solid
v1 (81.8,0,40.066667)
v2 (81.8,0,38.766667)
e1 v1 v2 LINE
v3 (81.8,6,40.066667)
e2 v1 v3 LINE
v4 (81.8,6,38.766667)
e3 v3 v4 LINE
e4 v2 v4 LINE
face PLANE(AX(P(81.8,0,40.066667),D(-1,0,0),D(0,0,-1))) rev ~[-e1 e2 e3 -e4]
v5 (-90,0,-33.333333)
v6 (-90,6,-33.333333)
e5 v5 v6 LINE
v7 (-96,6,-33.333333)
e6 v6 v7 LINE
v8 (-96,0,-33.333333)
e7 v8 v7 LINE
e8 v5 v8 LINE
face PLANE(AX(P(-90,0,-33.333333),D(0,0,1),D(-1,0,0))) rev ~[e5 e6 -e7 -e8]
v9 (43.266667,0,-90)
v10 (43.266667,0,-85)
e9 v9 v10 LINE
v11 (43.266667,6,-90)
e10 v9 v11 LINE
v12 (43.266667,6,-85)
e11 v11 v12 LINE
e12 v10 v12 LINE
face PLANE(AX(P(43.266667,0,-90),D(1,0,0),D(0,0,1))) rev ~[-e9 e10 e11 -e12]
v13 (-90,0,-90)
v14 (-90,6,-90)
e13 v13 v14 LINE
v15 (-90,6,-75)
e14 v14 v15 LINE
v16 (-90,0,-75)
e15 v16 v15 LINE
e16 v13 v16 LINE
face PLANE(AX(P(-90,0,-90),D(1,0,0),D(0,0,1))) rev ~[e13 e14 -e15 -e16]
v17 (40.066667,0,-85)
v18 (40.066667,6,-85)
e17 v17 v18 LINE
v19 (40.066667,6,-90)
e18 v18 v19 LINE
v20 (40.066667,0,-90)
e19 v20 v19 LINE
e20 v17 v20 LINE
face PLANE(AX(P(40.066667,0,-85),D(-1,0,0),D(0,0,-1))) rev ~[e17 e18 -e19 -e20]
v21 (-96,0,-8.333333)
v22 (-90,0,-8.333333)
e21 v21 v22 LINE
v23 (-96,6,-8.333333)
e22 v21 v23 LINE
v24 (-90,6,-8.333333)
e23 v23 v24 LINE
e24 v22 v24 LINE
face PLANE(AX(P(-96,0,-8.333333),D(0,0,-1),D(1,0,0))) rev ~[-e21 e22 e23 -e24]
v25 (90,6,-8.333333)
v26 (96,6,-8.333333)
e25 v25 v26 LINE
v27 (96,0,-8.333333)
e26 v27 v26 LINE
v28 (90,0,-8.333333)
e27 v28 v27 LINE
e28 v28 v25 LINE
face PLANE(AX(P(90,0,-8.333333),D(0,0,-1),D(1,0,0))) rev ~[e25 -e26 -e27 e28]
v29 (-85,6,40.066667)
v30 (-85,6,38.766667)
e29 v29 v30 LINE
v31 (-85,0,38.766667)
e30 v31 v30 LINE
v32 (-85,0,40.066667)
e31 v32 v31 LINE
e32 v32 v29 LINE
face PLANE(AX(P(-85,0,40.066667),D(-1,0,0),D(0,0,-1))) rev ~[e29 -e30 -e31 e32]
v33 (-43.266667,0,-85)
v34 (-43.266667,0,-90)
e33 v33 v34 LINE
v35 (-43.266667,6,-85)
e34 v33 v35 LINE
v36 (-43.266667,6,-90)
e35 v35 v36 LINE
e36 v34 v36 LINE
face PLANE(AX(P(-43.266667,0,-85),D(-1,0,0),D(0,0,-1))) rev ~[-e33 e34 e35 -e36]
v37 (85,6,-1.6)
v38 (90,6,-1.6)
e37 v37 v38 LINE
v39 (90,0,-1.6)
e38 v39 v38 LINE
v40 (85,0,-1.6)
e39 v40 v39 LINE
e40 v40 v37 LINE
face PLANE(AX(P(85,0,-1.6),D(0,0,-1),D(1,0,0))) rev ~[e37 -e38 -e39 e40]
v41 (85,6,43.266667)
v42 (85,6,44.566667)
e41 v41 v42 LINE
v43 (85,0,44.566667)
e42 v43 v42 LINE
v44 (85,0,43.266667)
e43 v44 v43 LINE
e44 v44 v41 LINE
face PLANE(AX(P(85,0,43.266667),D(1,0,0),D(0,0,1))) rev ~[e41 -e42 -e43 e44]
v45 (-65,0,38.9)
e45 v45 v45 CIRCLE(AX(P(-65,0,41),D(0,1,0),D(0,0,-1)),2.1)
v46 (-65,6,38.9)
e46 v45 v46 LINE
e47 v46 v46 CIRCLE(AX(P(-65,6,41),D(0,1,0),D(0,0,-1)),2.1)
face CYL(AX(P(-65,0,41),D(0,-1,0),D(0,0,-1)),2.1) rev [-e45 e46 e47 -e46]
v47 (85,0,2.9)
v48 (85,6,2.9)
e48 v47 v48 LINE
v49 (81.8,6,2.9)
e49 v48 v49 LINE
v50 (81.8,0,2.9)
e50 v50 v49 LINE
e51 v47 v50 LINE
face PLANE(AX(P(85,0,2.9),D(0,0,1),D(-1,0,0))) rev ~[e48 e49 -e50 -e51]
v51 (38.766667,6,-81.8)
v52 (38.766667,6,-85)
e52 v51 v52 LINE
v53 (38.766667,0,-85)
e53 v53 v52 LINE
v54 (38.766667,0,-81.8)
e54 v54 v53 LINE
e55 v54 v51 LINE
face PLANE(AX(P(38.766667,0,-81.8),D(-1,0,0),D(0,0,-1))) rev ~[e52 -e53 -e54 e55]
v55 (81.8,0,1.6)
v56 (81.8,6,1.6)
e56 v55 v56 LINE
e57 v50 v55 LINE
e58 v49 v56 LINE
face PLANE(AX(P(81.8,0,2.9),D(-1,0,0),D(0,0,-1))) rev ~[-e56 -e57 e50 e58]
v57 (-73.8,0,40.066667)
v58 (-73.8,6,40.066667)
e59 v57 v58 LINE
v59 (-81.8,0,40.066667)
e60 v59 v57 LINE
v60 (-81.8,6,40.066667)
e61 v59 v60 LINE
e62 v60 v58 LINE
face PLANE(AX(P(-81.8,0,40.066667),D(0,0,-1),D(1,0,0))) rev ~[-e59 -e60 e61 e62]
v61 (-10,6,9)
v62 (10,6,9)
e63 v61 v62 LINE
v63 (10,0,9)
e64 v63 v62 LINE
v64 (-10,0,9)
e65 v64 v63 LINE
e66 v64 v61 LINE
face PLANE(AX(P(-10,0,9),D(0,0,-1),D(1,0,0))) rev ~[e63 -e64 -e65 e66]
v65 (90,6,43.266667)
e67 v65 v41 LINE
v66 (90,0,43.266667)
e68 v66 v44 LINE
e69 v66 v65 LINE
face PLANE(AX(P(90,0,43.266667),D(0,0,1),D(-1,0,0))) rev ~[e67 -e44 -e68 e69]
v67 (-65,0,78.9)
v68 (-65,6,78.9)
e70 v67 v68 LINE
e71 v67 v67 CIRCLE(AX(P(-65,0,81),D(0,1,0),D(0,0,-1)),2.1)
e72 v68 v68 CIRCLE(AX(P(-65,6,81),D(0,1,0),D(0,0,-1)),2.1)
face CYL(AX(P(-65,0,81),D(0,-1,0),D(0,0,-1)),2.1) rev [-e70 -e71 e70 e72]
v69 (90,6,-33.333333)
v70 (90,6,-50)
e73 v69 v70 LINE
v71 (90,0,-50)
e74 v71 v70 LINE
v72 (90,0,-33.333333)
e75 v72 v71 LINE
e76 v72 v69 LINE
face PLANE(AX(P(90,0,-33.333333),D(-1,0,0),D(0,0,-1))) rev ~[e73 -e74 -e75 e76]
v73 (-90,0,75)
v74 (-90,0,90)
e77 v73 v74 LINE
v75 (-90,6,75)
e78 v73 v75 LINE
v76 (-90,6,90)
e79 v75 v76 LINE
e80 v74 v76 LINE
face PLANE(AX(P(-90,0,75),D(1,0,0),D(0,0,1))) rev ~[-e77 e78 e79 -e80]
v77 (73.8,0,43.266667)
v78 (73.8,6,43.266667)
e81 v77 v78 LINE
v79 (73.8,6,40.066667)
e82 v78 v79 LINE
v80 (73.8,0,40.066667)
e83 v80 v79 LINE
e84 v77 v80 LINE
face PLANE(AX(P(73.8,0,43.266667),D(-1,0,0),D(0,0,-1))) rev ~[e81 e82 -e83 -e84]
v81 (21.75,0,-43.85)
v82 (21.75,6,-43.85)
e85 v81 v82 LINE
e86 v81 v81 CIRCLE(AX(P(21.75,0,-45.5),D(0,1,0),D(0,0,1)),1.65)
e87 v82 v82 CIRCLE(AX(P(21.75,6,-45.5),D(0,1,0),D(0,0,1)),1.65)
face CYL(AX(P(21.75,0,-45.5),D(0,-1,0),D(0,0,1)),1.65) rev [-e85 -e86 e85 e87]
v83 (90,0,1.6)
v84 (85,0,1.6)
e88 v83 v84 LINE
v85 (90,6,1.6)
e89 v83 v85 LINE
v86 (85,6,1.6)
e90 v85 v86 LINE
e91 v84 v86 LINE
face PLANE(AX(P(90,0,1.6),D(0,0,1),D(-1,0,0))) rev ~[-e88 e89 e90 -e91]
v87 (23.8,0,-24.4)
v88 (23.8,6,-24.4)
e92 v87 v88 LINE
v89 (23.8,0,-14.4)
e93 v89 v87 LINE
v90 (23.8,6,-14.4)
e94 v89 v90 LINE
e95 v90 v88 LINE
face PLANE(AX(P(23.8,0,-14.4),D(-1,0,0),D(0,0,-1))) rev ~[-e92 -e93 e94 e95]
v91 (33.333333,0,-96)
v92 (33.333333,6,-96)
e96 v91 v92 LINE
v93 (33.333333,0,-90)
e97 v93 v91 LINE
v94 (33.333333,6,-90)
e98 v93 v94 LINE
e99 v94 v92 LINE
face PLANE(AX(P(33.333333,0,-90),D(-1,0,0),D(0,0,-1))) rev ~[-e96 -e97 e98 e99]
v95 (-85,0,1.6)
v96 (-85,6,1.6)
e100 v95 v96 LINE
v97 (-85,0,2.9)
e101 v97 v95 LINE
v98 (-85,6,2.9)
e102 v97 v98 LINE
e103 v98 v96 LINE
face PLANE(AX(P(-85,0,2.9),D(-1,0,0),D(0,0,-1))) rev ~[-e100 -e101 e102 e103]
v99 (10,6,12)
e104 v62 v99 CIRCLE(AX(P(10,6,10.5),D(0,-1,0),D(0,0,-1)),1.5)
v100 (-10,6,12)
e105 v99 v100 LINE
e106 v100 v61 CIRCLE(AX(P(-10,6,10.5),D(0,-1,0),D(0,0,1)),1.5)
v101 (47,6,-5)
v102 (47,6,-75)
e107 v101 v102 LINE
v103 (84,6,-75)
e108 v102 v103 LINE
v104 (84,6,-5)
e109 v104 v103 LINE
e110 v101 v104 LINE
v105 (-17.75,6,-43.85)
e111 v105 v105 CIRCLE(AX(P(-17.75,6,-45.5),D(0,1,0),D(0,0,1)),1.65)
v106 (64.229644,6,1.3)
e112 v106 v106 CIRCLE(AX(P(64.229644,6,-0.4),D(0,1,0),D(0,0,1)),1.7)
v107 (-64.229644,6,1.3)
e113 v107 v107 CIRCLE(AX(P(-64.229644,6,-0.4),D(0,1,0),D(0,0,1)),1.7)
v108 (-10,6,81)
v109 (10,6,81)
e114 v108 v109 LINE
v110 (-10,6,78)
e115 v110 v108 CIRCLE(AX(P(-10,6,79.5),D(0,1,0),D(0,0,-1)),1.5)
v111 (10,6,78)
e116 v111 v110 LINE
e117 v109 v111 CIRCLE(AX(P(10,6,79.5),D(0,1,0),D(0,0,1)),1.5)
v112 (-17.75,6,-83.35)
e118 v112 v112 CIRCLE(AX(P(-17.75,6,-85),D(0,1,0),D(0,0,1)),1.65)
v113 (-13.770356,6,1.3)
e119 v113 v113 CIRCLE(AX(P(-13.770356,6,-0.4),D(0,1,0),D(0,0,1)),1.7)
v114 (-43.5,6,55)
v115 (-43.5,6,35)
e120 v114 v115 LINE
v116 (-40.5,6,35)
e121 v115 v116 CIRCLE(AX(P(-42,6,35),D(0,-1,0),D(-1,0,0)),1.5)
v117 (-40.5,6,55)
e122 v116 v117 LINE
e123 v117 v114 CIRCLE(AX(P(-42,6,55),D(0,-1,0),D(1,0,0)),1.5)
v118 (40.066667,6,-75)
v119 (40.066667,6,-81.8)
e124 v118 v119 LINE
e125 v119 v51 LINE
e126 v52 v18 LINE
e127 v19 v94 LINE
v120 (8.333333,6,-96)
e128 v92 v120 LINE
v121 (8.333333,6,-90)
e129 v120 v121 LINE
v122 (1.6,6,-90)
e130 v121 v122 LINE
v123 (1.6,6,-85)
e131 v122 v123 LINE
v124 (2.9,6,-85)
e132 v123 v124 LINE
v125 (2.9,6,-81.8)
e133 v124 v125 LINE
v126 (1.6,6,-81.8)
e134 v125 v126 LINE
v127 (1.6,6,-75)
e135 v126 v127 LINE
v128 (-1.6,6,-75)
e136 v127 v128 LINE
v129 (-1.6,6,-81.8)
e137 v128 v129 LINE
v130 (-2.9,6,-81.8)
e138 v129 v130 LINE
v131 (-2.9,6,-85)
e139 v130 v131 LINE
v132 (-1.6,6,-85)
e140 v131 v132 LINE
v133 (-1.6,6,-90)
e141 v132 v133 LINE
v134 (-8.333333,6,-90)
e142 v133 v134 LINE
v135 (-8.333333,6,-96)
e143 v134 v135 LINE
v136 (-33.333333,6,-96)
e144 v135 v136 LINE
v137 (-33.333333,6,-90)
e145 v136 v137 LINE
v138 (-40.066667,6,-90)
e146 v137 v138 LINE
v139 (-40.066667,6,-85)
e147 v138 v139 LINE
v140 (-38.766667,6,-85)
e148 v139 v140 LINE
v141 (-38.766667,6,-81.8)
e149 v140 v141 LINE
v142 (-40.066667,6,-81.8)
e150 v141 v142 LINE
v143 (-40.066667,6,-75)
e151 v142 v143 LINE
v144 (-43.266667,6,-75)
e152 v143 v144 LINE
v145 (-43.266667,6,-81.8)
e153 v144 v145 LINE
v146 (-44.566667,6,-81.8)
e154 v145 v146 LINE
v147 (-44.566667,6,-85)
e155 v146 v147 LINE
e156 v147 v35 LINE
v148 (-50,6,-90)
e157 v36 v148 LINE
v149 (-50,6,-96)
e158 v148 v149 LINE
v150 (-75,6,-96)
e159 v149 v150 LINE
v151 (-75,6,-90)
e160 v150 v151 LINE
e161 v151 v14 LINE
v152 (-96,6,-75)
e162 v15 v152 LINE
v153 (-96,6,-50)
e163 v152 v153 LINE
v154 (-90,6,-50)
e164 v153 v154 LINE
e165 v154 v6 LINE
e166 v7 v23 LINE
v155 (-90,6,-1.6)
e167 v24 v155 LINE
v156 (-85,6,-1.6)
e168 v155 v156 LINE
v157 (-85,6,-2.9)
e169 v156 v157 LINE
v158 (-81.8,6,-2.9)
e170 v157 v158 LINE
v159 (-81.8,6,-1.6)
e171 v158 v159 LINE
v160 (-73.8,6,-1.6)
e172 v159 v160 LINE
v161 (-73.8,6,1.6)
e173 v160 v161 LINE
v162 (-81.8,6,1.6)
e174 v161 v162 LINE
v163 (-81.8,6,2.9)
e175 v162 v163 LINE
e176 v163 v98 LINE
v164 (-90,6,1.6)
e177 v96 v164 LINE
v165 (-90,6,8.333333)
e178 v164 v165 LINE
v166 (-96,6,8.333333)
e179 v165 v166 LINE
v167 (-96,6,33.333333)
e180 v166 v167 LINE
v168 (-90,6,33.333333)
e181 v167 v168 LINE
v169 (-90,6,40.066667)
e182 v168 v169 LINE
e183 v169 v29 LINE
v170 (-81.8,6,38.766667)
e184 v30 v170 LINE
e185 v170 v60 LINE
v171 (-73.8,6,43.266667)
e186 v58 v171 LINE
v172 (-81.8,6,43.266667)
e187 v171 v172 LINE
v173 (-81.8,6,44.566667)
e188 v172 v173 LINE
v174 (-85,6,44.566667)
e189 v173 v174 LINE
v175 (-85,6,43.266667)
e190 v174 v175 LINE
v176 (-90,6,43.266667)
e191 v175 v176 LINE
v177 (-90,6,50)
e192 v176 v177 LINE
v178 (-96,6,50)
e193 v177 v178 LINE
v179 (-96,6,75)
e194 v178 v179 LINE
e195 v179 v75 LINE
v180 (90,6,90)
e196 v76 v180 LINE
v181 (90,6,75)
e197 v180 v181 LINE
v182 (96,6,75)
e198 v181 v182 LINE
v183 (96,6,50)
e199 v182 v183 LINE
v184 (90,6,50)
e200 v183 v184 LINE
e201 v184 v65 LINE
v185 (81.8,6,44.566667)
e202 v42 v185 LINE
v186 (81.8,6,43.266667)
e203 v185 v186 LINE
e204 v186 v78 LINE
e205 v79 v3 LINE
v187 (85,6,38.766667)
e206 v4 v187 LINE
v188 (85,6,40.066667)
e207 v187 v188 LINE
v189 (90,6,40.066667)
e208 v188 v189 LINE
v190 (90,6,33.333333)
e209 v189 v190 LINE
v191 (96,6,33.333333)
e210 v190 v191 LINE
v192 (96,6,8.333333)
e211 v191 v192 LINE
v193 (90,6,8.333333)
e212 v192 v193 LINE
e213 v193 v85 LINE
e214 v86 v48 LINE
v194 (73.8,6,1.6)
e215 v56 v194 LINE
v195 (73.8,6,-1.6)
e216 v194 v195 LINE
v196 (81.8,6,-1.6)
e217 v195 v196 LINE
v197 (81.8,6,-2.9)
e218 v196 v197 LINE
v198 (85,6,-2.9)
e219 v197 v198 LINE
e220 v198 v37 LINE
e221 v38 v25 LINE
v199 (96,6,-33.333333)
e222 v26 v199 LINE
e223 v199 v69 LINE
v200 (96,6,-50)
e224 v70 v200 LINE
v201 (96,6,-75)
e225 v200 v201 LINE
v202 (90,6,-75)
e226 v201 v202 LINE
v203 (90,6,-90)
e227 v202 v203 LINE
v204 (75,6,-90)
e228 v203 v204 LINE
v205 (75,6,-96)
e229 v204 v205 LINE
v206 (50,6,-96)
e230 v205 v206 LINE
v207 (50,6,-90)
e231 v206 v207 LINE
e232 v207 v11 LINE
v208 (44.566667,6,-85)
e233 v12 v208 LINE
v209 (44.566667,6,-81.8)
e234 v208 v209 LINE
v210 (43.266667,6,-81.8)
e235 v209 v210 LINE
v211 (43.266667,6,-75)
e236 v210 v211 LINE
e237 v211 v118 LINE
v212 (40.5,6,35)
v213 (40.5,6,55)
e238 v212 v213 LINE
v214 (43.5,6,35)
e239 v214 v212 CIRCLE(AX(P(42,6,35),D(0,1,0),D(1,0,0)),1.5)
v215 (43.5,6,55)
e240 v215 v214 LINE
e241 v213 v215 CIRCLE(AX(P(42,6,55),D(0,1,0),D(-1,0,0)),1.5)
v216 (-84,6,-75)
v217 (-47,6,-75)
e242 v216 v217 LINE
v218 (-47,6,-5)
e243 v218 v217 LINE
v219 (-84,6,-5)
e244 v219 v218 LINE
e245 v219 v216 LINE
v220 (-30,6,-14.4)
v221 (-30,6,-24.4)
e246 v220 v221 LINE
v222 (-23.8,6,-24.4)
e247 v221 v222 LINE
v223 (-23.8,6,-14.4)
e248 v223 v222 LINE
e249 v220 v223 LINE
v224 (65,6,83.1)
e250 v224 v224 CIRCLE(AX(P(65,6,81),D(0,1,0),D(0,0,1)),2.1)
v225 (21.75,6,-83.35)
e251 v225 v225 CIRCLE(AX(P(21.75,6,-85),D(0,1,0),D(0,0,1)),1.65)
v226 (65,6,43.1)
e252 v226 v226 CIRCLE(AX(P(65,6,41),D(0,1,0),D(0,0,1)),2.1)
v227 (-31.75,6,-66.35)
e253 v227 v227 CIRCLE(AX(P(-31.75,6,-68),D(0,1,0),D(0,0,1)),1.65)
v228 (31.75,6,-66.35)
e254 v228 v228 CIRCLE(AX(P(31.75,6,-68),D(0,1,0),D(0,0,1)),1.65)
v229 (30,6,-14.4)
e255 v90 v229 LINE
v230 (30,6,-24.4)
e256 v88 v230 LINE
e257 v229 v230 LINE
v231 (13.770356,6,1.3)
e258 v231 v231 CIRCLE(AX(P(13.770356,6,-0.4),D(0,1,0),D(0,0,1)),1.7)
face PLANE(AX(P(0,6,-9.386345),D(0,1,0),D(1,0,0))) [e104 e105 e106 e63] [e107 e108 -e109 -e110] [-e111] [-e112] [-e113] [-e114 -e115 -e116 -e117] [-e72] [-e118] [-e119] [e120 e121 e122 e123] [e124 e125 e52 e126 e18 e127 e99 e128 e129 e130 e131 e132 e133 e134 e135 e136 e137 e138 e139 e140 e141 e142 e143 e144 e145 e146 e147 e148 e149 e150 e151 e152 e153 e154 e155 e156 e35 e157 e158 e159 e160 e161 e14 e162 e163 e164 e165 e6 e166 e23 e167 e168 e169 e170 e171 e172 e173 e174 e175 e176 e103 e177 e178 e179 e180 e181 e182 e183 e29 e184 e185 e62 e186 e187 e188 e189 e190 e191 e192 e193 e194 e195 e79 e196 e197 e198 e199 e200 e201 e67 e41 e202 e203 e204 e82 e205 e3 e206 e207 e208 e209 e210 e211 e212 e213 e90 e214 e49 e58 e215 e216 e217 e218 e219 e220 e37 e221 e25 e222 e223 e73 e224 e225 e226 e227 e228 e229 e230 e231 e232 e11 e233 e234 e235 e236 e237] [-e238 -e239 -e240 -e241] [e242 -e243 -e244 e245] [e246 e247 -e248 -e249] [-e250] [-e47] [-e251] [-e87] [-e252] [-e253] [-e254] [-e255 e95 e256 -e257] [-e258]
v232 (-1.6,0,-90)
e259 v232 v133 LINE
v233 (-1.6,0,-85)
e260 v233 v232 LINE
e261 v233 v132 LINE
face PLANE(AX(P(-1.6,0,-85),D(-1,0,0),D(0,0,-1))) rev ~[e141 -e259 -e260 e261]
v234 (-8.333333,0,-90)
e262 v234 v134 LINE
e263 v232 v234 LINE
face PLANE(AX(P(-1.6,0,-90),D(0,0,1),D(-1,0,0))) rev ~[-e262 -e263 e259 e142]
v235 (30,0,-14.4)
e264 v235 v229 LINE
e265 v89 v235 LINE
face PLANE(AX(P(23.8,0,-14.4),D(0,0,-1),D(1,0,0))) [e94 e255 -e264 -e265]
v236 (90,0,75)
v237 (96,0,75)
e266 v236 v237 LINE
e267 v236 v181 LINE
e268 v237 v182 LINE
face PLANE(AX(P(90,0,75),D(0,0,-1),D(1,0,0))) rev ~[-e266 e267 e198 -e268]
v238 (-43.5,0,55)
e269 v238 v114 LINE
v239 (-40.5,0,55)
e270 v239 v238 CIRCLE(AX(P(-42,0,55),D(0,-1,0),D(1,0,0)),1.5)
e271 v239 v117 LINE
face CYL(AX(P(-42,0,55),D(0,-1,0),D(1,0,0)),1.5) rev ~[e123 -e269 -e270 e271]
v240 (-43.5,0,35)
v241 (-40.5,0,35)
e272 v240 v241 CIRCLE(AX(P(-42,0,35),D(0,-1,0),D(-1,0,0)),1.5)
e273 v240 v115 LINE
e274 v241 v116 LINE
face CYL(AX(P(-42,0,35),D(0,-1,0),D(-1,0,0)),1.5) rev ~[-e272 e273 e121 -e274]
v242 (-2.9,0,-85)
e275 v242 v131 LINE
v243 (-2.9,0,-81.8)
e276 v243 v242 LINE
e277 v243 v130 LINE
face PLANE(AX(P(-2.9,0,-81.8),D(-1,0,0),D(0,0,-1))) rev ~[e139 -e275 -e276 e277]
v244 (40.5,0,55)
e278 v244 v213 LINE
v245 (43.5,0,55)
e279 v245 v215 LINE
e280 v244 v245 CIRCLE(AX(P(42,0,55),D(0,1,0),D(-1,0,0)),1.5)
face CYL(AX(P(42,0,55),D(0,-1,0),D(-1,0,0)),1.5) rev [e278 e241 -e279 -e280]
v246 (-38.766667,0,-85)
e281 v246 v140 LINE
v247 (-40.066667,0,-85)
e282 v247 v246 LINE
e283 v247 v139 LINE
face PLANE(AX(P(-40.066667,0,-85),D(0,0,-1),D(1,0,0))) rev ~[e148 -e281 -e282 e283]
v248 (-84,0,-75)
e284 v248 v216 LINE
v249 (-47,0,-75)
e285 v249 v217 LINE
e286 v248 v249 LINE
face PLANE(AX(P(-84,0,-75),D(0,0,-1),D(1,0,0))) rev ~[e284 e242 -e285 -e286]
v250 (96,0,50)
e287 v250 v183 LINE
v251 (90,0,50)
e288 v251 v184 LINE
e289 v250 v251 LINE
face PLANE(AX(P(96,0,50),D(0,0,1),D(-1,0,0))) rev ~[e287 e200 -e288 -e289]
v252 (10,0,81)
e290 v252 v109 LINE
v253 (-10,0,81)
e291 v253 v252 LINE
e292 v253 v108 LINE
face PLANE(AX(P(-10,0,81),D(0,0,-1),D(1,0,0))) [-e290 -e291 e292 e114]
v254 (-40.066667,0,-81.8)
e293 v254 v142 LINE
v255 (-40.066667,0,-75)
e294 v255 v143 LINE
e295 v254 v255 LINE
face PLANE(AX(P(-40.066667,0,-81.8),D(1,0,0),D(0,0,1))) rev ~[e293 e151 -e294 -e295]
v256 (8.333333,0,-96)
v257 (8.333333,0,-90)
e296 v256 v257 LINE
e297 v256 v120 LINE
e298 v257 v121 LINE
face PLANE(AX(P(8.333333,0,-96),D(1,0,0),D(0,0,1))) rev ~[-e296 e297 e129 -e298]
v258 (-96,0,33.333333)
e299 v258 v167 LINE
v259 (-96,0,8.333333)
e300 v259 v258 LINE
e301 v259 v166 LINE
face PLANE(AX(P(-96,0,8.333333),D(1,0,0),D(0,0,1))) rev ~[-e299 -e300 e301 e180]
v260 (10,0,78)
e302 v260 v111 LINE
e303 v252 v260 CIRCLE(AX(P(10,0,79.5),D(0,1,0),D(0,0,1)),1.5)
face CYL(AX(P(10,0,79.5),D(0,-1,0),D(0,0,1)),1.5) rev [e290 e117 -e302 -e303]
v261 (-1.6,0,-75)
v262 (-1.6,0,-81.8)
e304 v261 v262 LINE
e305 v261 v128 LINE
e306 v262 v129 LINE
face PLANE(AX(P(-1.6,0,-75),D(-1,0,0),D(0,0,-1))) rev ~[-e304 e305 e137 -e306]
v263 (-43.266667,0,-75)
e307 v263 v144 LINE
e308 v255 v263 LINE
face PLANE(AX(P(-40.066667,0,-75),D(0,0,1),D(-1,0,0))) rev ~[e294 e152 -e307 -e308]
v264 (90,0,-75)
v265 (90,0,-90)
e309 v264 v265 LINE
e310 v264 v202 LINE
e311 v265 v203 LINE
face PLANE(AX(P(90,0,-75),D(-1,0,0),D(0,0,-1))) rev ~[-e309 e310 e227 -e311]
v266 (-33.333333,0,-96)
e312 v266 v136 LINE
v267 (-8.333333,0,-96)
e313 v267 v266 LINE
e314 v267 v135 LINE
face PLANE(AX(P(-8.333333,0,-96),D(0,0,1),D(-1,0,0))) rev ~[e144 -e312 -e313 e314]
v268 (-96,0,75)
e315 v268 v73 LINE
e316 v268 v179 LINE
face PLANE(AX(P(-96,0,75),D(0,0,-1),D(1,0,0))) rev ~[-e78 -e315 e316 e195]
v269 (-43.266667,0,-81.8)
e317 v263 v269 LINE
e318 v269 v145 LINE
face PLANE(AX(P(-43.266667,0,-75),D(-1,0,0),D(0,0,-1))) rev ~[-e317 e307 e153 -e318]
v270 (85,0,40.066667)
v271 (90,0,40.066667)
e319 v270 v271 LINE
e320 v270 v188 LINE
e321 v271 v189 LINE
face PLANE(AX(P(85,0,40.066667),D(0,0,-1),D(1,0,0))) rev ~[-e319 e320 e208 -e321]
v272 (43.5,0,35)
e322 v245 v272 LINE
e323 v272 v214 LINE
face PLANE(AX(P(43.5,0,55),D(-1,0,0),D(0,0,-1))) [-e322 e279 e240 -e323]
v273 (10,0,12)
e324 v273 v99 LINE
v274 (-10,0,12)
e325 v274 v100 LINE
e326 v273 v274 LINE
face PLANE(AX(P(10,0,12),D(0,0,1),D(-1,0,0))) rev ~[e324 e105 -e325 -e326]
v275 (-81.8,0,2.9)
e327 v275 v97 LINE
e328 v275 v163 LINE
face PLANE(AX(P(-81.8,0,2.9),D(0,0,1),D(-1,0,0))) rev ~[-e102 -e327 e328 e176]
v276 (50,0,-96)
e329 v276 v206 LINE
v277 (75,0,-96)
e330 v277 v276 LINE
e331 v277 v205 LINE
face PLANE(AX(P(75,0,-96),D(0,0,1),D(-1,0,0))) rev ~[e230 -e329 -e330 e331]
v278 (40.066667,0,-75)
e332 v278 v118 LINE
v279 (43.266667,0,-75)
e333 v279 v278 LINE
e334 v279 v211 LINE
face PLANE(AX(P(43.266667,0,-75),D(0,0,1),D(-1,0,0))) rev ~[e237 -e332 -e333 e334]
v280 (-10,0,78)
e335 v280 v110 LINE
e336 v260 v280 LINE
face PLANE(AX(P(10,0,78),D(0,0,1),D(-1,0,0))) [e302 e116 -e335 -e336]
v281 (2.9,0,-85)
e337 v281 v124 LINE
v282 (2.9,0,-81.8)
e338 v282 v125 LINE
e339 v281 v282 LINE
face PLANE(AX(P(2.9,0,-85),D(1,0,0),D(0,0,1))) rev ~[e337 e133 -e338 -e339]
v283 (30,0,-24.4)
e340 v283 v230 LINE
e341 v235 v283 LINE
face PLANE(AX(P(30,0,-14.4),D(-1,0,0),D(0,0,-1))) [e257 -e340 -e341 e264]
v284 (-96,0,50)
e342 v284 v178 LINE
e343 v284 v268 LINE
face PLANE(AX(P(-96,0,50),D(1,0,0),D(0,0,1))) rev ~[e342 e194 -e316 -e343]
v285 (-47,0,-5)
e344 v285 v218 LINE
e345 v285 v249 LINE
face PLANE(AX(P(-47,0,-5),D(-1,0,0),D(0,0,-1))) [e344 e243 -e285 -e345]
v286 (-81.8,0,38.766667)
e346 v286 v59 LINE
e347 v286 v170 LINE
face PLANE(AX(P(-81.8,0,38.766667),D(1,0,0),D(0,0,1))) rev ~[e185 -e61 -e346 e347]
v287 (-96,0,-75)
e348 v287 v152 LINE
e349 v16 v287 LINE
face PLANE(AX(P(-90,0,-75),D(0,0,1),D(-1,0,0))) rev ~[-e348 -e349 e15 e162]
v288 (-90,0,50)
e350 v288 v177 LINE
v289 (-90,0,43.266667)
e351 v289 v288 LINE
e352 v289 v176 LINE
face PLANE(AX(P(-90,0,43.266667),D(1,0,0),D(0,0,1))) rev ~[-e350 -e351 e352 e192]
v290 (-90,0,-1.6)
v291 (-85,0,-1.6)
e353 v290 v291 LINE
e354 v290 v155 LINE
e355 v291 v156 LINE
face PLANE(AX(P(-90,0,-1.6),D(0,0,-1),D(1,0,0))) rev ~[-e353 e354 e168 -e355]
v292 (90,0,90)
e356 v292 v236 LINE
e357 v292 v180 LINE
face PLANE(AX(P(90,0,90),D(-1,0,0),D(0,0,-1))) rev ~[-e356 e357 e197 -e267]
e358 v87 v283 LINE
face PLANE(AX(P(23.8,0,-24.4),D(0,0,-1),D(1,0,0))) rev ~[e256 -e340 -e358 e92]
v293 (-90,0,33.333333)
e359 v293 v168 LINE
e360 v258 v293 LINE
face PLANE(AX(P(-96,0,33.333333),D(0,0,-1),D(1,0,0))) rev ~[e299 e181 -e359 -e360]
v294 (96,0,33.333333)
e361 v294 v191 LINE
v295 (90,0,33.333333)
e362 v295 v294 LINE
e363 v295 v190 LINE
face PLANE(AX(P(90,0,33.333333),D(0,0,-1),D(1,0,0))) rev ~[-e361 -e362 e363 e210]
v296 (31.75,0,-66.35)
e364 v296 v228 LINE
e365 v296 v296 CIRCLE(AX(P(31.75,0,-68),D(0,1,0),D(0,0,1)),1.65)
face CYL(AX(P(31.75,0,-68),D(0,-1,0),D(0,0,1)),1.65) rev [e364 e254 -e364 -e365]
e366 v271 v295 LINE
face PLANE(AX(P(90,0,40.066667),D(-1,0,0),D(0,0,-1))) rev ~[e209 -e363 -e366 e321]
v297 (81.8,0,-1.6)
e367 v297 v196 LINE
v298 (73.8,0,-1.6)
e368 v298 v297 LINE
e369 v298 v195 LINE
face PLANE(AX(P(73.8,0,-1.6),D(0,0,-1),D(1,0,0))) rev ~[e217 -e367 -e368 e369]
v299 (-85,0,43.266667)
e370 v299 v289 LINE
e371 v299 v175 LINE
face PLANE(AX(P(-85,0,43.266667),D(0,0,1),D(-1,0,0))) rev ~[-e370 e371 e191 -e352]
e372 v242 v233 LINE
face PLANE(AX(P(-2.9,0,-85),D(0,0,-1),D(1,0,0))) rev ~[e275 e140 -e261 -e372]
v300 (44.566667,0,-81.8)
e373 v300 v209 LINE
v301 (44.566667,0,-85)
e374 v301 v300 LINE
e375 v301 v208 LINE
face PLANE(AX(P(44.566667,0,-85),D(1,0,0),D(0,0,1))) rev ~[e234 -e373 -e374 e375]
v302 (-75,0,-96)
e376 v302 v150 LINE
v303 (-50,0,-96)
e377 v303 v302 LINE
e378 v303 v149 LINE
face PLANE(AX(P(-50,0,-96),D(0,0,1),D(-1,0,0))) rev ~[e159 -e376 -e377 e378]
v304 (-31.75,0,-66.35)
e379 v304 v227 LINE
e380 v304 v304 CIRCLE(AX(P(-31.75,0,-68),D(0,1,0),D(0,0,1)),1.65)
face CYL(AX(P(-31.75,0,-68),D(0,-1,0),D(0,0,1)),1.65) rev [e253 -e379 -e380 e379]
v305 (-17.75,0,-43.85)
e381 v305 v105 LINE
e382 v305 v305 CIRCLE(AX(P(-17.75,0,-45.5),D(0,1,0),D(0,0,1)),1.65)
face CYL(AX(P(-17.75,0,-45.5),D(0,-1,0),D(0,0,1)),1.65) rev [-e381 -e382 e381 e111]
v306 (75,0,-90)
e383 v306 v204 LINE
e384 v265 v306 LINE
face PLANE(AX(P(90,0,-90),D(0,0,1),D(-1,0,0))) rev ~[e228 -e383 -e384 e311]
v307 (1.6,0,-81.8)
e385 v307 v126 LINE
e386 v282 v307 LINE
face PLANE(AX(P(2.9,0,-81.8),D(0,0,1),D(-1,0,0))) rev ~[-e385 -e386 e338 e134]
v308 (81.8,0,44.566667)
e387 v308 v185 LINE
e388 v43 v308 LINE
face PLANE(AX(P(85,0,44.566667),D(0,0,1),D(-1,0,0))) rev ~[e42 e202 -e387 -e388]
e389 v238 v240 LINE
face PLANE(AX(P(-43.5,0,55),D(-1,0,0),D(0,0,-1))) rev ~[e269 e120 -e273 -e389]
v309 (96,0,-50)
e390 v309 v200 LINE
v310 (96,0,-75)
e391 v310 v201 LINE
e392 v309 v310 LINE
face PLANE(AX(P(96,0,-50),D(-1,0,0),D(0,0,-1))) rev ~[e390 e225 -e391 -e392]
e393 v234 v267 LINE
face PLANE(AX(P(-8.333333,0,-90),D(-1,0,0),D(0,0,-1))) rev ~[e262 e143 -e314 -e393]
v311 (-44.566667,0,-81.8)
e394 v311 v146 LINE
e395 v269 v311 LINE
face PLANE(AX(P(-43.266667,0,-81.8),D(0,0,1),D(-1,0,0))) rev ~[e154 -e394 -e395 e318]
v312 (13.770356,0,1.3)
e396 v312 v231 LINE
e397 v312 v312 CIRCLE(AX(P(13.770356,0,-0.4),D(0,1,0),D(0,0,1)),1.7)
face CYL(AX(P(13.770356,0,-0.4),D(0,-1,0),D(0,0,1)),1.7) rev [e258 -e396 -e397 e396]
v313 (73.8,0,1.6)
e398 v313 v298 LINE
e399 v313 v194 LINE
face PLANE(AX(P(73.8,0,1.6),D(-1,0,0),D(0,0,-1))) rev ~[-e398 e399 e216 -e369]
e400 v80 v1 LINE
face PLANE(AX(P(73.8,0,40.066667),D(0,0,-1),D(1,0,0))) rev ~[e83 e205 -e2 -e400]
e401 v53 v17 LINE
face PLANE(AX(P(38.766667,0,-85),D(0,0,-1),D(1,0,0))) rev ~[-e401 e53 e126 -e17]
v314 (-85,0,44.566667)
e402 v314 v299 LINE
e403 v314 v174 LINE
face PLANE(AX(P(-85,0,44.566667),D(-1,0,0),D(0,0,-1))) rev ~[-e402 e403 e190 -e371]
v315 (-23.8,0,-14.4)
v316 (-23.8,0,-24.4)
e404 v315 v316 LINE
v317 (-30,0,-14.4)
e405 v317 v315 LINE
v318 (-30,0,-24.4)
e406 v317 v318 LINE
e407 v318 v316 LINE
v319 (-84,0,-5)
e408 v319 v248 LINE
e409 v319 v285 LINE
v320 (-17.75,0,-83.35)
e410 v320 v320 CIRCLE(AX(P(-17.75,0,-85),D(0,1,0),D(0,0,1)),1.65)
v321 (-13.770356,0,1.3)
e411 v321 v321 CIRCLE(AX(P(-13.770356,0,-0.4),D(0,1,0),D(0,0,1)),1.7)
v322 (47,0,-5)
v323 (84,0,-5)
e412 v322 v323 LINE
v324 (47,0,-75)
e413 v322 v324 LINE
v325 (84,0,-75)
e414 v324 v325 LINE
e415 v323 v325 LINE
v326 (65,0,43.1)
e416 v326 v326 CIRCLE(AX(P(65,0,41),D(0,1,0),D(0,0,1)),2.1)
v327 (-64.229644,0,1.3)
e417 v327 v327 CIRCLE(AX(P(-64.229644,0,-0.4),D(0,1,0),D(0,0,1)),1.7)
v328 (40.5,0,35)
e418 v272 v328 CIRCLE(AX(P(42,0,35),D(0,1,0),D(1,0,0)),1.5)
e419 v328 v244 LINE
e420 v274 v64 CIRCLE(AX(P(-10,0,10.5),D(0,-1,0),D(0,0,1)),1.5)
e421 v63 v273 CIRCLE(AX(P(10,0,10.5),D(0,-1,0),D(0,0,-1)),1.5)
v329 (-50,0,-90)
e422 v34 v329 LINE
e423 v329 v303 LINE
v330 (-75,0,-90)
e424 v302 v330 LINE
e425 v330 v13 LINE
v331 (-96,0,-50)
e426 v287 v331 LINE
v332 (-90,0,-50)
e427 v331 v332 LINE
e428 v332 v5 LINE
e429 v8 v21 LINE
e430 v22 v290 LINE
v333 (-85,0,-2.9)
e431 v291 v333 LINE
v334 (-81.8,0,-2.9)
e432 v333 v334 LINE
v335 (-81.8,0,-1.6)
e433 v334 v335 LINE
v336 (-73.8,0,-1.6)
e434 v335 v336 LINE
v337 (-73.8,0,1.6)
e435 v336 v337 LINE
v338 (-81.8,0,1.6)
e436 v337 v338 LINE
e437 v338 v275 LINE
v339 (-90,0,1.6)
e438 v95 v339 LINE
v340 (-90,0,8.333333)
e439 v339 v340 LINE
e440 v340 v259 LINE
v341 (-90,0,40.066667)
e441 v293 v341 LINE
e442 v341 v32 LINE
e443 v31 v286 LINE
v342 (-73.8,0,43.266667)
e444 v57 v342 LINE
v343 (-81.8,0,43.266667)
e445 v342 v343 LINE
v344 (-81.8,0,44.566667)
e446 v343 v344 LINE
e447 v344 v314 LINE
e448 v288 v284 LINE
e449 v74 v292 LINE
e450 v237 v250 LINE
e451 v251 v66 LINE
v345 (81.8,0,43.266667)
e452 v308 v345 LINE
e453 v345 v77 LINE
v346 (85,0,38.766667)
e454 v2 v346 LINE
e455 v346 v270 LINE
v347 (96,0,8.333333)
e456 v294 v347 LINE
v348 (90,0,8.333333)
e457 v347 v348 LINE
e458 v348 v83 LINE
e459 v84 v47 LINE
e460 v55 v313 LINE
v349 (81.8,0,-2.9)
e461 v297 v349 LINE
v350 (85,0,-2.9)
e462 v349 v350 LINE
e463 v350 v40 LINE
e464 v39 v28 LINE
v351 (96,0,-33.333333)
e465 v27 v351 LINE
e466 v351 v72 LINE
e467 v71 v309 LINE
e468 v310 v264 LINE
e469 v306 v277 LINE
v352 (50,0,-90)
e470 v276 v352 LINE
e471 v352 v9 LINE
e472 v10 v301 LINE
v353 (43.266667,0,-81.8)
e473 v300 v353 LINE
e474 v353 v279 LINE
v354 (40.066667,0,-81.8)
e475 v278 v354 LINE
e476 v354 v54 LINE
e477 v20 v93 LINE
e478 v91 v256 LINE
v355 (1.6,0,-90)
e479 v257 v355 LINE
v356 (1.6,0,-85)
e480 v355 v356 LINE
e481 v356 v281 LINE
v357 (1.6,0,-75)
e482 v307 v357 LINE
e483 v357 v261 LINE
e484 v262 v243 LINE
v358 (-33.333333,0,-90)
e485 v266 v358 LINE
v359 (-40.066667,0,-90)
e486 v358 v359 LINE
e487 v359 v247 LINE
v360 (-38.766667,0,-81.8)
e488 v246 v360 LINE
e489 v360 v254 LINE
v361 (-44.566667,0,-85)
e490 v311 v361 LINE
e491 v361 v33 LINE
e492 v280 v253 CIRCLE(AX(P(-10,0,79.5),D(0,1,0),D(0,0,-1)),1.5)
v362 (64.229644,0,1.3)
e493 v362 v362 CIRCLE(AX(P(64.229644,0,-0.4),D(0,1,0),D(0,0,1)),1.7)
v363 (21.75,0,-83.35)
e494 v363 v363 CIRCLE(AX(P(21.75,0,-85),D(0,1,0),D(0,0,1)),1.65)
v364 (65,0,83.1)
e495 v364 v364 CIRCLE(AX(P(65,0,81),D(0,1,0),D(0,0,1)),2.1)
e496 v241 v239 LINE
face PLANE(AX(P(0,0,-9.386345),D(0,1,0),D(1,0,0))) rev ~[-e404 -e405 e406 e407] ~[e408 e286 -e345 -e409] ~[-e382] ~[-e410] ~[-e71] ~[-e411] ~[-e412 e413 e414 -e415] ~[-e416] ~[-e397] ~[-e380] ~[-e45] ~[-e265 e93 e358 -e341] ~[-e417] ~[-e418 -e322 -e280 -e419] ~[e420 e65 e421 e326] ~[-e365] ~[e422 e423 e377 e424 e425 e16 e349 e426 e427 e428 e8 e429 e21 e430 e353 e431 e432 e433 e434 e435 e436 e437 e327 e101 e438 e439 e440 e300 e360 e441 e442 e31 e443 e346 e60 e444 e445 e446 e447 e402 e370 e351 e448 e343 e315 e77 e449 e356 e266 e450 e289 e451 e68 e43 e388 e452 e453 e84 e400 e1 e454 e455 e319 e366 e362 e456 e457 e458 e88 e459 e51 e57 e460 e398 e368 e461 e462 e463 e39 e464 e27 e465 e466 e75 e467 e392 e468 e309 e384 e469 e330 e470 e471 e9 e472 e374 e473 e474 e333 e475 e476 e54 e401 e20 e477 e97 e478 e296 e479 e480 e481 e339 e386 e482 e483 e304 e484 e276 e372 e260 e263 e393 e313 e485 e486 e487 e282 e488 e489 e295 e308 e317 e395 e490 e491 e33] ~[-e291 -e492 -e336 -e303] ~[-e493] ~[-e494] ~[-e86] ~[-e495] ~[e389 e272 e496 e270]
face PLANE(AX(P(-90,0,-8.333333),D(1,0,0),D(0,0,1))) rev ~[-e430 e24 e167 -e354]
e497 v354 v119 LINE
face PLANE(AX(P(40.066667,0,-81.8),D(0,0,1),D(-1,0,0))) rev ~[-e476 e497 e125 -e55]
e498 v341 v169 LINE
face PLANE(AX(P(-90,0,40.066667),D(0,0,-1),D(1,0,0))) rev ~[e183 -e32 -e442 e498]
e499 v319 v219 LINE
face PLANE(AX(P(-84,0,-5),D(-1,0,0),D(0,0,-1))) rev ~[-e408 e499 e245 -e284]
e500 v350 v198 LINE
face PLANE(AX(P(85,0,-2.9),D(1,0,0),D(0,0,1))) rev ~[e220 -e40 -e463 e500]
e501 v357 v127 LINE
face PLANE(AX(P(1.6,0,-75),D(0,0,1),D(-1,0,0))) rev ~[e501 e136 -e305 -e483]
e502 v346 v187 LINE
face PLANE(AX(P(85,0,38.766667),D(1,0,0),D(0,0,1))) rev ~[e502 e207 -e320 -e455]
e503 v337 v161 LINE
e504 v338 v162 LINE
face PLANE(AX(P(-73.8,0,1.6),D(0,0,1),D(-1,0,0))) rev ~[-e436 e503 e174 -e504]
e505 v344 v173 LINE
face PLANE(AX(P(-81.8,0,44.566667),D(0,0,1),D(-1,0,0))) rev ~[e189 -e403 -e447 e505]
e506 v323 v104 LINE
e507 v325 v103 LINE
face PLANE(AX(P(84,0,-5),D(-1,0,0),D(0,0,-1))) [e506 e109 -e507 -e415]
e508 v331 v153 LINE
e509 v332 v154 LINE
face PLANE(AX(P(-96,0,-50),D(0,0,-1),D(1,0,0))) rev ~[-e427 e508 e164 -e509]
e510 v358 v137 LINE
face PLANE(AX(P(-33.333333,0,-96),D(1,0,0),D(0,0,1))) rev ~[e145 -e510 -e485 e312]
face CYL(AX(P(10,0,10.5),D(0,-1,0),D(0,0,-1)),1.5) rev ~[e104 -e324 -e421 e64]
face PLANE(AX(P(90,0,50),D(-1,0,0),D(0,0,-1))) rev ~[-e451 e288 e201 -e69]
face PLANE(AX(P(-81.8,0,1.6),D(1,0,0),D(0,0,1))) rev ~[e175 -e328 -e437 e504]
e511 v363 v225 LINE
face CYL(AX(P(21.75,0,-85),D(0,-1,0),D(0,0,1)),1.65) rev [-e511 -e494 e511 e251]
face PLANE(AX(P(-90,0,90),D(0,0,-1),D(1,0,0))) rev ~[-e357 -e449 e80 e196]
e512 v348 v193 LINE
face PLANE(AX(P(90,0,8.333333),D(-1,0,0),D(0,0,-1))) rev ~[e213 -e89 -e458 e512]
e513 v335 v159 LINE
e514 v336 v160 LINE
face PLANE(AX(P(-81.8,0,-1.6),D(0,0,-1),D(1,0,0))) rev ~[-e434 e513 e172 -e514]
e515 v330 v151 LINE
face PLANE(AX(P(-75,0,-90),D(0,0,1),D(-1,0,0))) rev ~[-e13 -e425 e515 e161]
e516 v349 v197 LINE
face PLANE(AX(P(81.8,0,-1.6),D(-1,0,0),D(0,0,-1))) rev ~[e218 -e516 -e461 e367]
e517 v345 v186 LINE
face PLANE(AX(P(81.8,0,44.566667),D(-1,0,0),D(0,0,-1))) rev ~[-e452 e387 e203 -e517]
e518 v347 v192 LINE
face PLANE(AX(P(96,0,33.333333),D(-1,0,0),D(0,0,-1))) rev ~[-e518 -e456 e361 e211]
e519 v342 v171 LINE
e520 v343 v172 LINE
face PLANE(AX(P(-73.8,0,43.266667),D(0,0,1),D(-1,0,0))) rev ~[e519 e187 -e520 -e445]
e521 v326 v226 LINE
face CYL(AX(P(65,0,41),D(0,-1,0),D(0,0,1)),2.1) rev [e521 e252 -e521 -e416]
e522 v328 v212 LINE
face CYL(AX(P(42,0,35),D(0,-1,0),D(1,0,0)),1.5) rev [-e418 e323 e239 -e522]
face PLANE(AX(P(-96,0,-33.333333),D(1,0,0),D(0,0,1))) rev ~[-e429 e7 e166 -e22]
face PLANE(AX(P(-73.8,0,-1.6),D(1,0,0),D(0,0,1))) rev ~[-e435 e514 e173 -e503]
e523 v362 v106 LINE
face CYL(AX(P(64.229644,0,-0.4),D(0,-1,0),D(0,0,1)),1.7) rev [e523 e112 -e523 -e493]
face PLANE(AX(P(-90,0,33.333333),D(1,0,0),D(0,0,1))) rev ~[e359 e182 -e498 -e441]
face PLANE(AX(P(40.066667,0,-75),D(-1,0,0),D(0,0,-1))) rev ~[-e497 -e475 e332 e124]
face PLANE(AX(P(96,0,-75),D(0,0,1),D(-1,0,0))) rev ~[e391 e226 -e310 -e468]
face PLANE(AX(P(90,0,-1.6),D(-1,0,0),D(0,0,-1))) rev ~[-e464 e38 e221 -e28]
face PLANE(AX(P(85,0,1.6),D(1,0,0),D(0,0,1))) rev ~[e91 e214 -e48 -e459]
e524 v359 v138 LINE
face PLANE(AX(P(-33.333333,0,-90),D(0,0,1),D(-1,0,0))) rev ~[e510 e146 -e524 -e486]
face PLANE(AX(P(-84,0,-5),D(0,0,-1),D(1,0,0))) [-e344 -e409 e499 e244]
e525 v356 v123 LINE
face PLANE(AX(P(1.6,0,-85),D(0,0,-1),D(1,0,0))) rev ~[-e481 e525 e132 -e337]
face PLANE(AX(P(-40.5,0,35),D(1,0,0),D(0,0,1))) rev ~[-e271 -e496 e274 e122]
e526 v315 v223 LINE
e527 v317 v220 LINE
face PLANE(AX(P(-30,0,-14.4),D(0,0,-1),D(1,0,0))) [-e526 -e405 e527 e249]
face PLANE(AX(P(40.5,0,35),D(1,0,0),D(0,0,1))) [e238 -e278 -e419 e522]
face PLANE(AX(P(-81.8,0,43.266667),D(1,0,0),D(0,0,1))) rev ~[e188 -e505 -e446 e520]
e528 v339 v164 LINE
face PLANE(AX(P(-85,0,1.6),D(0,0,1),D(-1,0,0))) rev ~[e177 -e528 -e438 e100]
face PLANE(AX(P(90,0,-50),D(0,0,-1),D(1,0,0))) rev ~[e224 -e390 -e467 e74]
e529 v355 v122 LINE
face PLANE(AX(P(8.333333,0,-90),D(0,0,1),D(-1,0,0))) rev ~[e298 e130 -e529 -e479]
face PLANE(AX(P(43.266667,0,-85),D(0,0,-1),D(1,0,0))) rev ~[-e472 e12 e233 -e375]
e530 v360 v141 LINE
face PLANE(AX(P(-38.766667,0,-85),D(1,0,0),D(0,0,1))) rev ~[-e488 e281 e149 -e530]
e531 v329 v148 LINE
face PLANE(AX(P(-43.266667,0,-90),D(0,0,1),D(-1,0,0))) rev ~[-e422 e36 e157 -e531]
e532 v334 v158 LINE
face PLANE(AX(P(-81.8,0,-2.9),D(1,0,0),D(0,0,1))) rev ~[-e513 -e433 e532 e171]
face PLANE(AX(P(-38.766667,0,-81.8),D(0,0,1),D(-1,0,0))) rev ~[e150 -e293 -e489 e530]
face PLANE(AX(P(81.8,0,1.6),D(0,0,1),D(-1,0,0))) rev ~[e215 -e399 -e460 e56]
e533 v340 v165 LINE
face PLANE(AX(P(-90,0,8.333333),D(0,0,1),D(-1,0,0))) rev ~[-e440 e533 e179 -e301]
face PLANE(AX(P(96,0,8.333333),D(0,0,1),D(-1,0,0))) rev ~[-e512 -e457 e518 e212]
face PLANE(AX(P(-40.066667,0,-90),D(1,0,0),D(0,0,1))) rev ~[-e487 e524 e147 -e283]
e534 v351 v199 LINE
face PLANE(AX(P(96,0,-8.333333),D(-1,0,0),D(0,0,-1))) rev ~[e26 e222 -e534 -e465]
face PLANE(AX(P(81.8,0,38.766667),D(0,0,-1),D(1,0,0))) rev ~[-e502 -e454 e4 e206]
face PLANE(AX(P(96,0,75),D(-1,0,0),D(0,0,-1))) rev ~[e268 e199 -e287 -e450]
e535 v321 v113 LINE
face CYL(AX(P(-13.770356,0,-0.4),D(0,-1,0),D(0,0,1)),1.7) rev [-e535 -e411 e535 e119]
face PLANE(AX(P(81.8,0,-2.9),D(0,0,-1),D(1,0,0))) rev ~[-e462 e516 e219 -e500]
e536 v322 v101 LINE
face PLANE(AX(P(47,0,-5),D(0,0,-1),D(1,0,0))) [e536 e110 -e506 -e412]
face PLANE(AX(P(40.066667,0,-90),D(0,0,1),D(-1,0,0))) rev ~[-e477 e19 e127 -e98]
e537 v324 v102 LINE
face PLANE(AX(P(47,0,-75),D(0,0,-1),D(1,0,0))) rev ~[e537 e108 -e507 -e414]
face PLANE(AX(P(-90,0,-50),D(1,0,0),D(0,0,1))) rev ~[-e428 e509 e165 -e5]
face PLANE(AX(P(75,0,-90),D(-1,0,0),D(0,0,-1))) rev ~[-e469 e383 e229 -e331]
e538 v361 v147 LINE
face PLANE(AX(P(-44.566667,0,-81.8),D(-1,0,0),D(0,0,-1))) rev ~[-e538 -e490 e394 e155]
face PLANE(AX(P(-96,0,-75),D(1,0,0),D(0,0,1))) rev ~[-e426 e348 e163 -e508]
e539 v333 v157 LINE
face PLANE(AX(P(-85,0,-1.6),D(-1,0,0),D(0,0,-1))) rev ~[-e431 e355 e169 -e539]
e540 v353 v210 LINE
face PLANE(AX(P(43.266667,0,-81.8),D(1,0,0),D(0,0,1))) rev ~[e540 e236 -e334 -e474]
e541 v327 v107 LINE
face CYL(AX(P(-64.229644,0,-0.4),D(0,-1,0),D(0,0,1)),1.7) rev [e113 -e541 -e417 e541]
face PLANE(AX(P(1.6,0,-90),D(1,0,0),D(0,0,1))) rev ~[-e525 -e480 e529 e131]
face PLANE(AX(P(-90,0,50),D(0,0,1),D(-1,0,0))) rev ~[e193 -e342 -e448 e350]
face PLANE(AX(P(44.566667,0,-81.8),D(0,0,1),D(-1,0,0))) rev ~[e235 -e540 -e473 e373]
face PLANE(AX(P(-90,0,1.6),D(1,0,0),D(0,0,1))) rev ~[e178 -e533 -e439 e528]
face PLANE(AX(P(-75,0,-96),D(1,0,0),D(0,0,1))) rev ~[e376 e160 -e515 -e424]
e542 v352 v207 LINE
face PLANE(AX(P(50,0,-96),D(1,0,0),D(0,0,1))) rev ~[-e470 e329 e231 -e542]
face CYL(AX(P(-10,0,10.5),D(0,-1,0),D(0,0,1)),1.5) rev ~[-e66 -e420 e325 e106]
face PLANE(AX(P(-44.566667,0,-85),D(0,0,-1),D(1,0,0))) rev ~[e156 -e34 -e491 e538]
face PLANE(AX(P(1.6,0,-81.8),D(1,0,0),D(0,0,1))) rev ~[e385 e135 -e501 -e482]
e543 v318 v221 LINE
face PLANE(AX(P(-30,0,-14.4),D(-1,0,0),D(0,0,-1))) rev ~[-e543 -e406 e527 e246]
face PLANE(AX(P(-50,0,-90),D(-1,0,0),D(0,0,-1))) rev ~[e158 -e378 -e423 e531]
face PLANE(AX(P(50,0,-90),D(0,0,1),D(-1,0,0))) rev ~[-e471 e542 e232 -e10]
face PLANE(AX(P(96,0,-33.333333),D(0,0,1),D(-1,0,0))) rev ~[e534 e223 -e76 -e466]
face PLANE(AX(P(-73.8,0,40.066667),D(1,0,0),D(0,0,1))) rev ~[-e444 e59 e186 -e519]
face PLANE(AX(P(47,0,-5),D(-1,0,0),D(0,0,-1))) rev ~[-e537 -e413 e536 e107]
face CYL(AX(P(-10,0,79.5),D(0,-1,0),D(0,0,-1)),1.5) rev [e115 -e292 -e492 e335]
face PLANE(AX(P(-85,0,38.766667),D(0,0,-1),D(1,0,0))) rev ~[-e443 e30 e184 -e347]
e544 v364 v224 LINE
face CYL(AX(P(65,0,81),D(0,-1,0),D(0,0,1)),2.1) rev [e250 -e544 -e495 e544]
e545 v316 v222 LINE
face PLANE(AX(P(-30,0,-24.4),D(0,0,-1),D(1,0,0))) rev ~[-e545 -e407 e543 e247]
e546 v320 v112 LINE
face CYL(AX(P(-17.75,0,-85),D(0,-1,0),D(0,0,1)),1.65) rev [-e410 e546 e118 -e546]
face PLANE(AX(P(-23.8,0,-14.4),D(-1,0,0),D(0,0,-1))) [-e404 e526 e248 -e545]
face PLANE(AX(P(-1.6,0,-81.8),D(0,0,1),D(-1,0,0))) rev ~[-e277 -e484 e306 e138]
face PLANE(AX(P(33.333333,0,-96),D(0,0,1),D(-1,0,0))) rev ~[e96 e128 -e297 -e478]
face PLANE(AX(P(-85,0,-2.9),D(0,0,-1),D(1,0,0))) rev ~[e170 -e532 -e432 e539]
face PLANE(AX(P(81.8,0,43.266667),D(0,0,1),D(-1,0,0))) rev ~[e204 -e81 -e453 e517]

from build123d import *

# Parameters (mm, degrees)
SKETCH1_R           = 2.1
SKETCH1_R_2         = 1.65
SKETCH1_R_3         = 1.7
SKETCH1_W           = 6.2
SKETCH1_H           = 10
SKETCH1_W_2         = 37
SKETCH1_H_2         = 70
BOSS_EXTRUDE1_DEPTH = 6


with BuildPart() as part:
    # Sketch1 → Boss-Extrude1 (new body)
    with BuildSketch(Plane(origin=(0, 0, 0), x_dir=(1, 0, 0), z_dir=(0, 1, 0))):
        Polygon((-90, -90), (90, -90), (90, -75), (96, -75), (96, -50), (90, -50), (90, -43.266666667), (85, -43.266666667), (85, -44.566666667), (81.8, -44.566666667), (81.8, -43.266666667), (73.8, -43.266666667), (73.8, -40.066666667), (81.8, -40.066666667), (81.8, -38.766666667), (85, -38.766666667), (85, -40.066666667), (90, -40.066666667), (90, -33.333333333), (96, -33.333333333), (96, -8.333333333), (90, -8.333333333), (90, -1.6), (85, -1.6), (85, -2.9), (81.8, -2.9), (81.8, -1.6), (73.8, -1.6), (73.8, 1.6), (81.8, 1.6), (81.8, 2.9), (85, 2.9), (85, 1.6), (90, 1.6), (90, 8.333333333), (96, 8.333333333), (96, 33.333333333), (90, 33.333333333), (90, 50), (96, 50), (96, 75), (90, 75), (90, 90), (75, 90), (75, 96), (50, 96), (50, 90), (43.266666667, 90), (43.266666667, 85), (44.566666667, 85), (44.566666667, 81.8), (43.266666667, 81.8), (43.266666667, 75), (40.066666667, 75), (40.066666667, 81.8), (38.766666667, 81.8), (38.766666667, 85), (40.066666667, 85), (40.066666667, 90), (33.333333333, 90), (33.333333333, 96), (8.333333333, 96), (8.333333333, 90), (1.6, 90), (1.6, 85), (2.9, 85), (2.9, 81.8), (1.6, 81.8), (1.6, 75), (-1.6, 75), (-1.6, 81.8), (-2.9, 81.8), (-2.9, 85), (-1.6, 85), (-1.6, 90), (-8.333333333, 90), (-8.333333333, 96), (-33.333333333, 96), (-33.333333333, 90), (-40.066666667, 90), (-40.066666667, 85), (-38.766666667, 85), (-38.766666667, 81.8), (-40.066666667, 81.8), (-40.066666667, 75), (-43.266666667, 75), (-43.266666667, 81.8), (-44.566666667, 81.8), (-44.566666667, 85), (-43.266666667, 85), (-43.266666667, 90), (-50, 90), (-50, 96), (-75, 96), (-75, 90), (-90, 90), (-90, 75), (-96, 75), (-96, 50), (-90, 50), (-90, 33.333333333), (-96, 33.333333333), (-96, 8.333333333), (-90, 8.333333333), (-90, 1.6), (-85, 1.6), (-85, 2.9), (-81.8, 2.9), (-81.8, 1.6), (-73.8, 1.6), (-73.8, -1.6), (-81.8, -1.6), (-81.8, -2.9), (-85, -2.9), (-85, -1.6), (-90, -1.6), (-90, -8.333333333), (-96, -8.333333333), (-96, -33.333333333), (-90, -33.333333333), (-90, -40.066666667), (-85, -40.066666667), (-85, -38.766666667), (-81.8, -38.766666667), (-81.8, -40.066666667), (-73.8, -40.066666667), (-73.8, -43.266666667), (-81.8, -43.266666667), (-81.8, -44.566666667), (-85, -44.566666667), (-85, -43.266666667), (-90, -43.266666667), (-90, -50), (-96, -50), (-96, -75), (-90, -75), align=None)
        with Locations(Location((65, -41, 0), (0, 0, 270))):
            Circle(SKETCH1_R, mode=Mode.SUBTRACT)
        with Locations(Location((65, -81, 0), (0, 0, 270))):
            Circle(SKETCH1_R, mode=Mode.SUBTRACT)
        with Locations(Location((-65, -81, 0), (0, 0, 90))):
            Circle(SKETCH1_R, mode=Mode.SUBTRACT)
        with Locations(Location((-65, -41, 0), (0, 0, 90))):
            Circle(SKETCH1_R, mode=Mode.SUBTRACT)
        with Locations(Location((21.75, 45.5, 0), (0, 0, 270))):
            Circle(SKETCH1_R_2, mode=Mode.SUBTRACT)
        with Locations(Location((-17.75, 45.5, 0), (0, 0, 270))):
            Circle(SKETCH1_R_2, mode=Mode.SUBTRACT)
        with Locations(Location((-17.75, 85, 0), (0, 0, 270))):
            Circle(SKETCH1_R_2, mode=Mode.SUBTRACT)
        with Locations(Location((21.75, 85, 0), (0, 0, 270))):
            Circle(SKETCH1_R_2, mode=Mode.SUBTRACT)
        with Locations(Location((-31.75, 68, 0), (0, 0, 270))):
            Circle(SKETCH1_R_2, mode=Mode.SUBTRACT)
        with Locations(Location((31.75, 68, 0), (0, 0, 270))):
            Circle(SKETCH1_R_2, mode=Mode.SUBTRACT)
        with Locations(Location((-13.770355578, 0.4, 0), (0, 0, 270))):
            Circle(SKETCH1_R_3, mode=Mode.SUBTRACT)
        with Locations(Location((13.770355578, 0.4, 0), (0, 0, 270))):
            Circle(SKETCH1_R_3, mode=Mode.SUBTRACT)
        with Locations(Location((64.229644422, 0.4, 0), (0, 0, 270))):
            Circle(SKETCH1_R_3, mode=Mode.SUBTRACT)
        with Locations(Location((-64.229644422, 0.4, 0), (0, 0, 270))):
            Circle(SKETCH1_R_3, mode=Mode.SUBTRACT)
        with Locations((26.9, 19.4)):
            Rectangle(SKETCH1_W, SKETCH1_H, mode=Mode.SUBTRACT)
        with Locations((65.5, 40)):
            Rectangle(SKETCH1_W_2, SKETCH1_H_2, mode=Mode.SUBTRACT)
        with Locations((-65.5, 40)):
            Rectangle(SKETCH1_W_2, SKETCH1_H_2, mode=Mode.SUBTRACT)
        with Locations((-26.9, 19.4)):
            Rectangle(SKETCH1_W, SKETCH1_H, mode=Mode.SUBTRACT)
        with BuildLine():
            Line((-40.5, -35), (-40.5, -55))
            ThreePointArc((-40.5, -55), (-42, -56.5), (-43.5, -55))
            Line((-43.5, -55), (-43.5, -35))
            ThreePointArc((-43.5, -35), (-42, -33.5), (-40.5, -35))
        make_face(mode=Mode.SUBTRACT)
        with BuildLine():
            Line((40.5, -35), (40.5, -55))
            ThreePointArc((40.5, -55), (42, -56.5), (43.5, -55))
            Line((43.5, -55), (43.5, -35))
            ThreePointArc((43.5, -35), (42, -33.5), (40.5, -35))
        make_face(mode=Mode.SUBTRACT)
        with BuildLine():
            Line((10, -12), (-10, -12))
            ThreePointArc((-10, -12), (-11.5, -10.5), (-10, -9))
            Line((-10, -9), (10, -9))
            ThreePointArc((10, -9), (11.5, -10.5), (10, -12))
        make_face(mode=Mode.SUBTRACT)
        with BuildLine():
            Line((10, -78), (-10, -78))
            ThreePointArc((-10, -78), (-11.5, -79.5), (-10, -81))
            Line((-10, -81), (10, -81))
            ThreePointArc((10, -81), (11.5, -79.5), (10, -78))
        make_face(mode=Mode.SUBTRACT)
    extrude(amount=BOSS_EXTRUDE1_DEPTH)


solid = part.part
